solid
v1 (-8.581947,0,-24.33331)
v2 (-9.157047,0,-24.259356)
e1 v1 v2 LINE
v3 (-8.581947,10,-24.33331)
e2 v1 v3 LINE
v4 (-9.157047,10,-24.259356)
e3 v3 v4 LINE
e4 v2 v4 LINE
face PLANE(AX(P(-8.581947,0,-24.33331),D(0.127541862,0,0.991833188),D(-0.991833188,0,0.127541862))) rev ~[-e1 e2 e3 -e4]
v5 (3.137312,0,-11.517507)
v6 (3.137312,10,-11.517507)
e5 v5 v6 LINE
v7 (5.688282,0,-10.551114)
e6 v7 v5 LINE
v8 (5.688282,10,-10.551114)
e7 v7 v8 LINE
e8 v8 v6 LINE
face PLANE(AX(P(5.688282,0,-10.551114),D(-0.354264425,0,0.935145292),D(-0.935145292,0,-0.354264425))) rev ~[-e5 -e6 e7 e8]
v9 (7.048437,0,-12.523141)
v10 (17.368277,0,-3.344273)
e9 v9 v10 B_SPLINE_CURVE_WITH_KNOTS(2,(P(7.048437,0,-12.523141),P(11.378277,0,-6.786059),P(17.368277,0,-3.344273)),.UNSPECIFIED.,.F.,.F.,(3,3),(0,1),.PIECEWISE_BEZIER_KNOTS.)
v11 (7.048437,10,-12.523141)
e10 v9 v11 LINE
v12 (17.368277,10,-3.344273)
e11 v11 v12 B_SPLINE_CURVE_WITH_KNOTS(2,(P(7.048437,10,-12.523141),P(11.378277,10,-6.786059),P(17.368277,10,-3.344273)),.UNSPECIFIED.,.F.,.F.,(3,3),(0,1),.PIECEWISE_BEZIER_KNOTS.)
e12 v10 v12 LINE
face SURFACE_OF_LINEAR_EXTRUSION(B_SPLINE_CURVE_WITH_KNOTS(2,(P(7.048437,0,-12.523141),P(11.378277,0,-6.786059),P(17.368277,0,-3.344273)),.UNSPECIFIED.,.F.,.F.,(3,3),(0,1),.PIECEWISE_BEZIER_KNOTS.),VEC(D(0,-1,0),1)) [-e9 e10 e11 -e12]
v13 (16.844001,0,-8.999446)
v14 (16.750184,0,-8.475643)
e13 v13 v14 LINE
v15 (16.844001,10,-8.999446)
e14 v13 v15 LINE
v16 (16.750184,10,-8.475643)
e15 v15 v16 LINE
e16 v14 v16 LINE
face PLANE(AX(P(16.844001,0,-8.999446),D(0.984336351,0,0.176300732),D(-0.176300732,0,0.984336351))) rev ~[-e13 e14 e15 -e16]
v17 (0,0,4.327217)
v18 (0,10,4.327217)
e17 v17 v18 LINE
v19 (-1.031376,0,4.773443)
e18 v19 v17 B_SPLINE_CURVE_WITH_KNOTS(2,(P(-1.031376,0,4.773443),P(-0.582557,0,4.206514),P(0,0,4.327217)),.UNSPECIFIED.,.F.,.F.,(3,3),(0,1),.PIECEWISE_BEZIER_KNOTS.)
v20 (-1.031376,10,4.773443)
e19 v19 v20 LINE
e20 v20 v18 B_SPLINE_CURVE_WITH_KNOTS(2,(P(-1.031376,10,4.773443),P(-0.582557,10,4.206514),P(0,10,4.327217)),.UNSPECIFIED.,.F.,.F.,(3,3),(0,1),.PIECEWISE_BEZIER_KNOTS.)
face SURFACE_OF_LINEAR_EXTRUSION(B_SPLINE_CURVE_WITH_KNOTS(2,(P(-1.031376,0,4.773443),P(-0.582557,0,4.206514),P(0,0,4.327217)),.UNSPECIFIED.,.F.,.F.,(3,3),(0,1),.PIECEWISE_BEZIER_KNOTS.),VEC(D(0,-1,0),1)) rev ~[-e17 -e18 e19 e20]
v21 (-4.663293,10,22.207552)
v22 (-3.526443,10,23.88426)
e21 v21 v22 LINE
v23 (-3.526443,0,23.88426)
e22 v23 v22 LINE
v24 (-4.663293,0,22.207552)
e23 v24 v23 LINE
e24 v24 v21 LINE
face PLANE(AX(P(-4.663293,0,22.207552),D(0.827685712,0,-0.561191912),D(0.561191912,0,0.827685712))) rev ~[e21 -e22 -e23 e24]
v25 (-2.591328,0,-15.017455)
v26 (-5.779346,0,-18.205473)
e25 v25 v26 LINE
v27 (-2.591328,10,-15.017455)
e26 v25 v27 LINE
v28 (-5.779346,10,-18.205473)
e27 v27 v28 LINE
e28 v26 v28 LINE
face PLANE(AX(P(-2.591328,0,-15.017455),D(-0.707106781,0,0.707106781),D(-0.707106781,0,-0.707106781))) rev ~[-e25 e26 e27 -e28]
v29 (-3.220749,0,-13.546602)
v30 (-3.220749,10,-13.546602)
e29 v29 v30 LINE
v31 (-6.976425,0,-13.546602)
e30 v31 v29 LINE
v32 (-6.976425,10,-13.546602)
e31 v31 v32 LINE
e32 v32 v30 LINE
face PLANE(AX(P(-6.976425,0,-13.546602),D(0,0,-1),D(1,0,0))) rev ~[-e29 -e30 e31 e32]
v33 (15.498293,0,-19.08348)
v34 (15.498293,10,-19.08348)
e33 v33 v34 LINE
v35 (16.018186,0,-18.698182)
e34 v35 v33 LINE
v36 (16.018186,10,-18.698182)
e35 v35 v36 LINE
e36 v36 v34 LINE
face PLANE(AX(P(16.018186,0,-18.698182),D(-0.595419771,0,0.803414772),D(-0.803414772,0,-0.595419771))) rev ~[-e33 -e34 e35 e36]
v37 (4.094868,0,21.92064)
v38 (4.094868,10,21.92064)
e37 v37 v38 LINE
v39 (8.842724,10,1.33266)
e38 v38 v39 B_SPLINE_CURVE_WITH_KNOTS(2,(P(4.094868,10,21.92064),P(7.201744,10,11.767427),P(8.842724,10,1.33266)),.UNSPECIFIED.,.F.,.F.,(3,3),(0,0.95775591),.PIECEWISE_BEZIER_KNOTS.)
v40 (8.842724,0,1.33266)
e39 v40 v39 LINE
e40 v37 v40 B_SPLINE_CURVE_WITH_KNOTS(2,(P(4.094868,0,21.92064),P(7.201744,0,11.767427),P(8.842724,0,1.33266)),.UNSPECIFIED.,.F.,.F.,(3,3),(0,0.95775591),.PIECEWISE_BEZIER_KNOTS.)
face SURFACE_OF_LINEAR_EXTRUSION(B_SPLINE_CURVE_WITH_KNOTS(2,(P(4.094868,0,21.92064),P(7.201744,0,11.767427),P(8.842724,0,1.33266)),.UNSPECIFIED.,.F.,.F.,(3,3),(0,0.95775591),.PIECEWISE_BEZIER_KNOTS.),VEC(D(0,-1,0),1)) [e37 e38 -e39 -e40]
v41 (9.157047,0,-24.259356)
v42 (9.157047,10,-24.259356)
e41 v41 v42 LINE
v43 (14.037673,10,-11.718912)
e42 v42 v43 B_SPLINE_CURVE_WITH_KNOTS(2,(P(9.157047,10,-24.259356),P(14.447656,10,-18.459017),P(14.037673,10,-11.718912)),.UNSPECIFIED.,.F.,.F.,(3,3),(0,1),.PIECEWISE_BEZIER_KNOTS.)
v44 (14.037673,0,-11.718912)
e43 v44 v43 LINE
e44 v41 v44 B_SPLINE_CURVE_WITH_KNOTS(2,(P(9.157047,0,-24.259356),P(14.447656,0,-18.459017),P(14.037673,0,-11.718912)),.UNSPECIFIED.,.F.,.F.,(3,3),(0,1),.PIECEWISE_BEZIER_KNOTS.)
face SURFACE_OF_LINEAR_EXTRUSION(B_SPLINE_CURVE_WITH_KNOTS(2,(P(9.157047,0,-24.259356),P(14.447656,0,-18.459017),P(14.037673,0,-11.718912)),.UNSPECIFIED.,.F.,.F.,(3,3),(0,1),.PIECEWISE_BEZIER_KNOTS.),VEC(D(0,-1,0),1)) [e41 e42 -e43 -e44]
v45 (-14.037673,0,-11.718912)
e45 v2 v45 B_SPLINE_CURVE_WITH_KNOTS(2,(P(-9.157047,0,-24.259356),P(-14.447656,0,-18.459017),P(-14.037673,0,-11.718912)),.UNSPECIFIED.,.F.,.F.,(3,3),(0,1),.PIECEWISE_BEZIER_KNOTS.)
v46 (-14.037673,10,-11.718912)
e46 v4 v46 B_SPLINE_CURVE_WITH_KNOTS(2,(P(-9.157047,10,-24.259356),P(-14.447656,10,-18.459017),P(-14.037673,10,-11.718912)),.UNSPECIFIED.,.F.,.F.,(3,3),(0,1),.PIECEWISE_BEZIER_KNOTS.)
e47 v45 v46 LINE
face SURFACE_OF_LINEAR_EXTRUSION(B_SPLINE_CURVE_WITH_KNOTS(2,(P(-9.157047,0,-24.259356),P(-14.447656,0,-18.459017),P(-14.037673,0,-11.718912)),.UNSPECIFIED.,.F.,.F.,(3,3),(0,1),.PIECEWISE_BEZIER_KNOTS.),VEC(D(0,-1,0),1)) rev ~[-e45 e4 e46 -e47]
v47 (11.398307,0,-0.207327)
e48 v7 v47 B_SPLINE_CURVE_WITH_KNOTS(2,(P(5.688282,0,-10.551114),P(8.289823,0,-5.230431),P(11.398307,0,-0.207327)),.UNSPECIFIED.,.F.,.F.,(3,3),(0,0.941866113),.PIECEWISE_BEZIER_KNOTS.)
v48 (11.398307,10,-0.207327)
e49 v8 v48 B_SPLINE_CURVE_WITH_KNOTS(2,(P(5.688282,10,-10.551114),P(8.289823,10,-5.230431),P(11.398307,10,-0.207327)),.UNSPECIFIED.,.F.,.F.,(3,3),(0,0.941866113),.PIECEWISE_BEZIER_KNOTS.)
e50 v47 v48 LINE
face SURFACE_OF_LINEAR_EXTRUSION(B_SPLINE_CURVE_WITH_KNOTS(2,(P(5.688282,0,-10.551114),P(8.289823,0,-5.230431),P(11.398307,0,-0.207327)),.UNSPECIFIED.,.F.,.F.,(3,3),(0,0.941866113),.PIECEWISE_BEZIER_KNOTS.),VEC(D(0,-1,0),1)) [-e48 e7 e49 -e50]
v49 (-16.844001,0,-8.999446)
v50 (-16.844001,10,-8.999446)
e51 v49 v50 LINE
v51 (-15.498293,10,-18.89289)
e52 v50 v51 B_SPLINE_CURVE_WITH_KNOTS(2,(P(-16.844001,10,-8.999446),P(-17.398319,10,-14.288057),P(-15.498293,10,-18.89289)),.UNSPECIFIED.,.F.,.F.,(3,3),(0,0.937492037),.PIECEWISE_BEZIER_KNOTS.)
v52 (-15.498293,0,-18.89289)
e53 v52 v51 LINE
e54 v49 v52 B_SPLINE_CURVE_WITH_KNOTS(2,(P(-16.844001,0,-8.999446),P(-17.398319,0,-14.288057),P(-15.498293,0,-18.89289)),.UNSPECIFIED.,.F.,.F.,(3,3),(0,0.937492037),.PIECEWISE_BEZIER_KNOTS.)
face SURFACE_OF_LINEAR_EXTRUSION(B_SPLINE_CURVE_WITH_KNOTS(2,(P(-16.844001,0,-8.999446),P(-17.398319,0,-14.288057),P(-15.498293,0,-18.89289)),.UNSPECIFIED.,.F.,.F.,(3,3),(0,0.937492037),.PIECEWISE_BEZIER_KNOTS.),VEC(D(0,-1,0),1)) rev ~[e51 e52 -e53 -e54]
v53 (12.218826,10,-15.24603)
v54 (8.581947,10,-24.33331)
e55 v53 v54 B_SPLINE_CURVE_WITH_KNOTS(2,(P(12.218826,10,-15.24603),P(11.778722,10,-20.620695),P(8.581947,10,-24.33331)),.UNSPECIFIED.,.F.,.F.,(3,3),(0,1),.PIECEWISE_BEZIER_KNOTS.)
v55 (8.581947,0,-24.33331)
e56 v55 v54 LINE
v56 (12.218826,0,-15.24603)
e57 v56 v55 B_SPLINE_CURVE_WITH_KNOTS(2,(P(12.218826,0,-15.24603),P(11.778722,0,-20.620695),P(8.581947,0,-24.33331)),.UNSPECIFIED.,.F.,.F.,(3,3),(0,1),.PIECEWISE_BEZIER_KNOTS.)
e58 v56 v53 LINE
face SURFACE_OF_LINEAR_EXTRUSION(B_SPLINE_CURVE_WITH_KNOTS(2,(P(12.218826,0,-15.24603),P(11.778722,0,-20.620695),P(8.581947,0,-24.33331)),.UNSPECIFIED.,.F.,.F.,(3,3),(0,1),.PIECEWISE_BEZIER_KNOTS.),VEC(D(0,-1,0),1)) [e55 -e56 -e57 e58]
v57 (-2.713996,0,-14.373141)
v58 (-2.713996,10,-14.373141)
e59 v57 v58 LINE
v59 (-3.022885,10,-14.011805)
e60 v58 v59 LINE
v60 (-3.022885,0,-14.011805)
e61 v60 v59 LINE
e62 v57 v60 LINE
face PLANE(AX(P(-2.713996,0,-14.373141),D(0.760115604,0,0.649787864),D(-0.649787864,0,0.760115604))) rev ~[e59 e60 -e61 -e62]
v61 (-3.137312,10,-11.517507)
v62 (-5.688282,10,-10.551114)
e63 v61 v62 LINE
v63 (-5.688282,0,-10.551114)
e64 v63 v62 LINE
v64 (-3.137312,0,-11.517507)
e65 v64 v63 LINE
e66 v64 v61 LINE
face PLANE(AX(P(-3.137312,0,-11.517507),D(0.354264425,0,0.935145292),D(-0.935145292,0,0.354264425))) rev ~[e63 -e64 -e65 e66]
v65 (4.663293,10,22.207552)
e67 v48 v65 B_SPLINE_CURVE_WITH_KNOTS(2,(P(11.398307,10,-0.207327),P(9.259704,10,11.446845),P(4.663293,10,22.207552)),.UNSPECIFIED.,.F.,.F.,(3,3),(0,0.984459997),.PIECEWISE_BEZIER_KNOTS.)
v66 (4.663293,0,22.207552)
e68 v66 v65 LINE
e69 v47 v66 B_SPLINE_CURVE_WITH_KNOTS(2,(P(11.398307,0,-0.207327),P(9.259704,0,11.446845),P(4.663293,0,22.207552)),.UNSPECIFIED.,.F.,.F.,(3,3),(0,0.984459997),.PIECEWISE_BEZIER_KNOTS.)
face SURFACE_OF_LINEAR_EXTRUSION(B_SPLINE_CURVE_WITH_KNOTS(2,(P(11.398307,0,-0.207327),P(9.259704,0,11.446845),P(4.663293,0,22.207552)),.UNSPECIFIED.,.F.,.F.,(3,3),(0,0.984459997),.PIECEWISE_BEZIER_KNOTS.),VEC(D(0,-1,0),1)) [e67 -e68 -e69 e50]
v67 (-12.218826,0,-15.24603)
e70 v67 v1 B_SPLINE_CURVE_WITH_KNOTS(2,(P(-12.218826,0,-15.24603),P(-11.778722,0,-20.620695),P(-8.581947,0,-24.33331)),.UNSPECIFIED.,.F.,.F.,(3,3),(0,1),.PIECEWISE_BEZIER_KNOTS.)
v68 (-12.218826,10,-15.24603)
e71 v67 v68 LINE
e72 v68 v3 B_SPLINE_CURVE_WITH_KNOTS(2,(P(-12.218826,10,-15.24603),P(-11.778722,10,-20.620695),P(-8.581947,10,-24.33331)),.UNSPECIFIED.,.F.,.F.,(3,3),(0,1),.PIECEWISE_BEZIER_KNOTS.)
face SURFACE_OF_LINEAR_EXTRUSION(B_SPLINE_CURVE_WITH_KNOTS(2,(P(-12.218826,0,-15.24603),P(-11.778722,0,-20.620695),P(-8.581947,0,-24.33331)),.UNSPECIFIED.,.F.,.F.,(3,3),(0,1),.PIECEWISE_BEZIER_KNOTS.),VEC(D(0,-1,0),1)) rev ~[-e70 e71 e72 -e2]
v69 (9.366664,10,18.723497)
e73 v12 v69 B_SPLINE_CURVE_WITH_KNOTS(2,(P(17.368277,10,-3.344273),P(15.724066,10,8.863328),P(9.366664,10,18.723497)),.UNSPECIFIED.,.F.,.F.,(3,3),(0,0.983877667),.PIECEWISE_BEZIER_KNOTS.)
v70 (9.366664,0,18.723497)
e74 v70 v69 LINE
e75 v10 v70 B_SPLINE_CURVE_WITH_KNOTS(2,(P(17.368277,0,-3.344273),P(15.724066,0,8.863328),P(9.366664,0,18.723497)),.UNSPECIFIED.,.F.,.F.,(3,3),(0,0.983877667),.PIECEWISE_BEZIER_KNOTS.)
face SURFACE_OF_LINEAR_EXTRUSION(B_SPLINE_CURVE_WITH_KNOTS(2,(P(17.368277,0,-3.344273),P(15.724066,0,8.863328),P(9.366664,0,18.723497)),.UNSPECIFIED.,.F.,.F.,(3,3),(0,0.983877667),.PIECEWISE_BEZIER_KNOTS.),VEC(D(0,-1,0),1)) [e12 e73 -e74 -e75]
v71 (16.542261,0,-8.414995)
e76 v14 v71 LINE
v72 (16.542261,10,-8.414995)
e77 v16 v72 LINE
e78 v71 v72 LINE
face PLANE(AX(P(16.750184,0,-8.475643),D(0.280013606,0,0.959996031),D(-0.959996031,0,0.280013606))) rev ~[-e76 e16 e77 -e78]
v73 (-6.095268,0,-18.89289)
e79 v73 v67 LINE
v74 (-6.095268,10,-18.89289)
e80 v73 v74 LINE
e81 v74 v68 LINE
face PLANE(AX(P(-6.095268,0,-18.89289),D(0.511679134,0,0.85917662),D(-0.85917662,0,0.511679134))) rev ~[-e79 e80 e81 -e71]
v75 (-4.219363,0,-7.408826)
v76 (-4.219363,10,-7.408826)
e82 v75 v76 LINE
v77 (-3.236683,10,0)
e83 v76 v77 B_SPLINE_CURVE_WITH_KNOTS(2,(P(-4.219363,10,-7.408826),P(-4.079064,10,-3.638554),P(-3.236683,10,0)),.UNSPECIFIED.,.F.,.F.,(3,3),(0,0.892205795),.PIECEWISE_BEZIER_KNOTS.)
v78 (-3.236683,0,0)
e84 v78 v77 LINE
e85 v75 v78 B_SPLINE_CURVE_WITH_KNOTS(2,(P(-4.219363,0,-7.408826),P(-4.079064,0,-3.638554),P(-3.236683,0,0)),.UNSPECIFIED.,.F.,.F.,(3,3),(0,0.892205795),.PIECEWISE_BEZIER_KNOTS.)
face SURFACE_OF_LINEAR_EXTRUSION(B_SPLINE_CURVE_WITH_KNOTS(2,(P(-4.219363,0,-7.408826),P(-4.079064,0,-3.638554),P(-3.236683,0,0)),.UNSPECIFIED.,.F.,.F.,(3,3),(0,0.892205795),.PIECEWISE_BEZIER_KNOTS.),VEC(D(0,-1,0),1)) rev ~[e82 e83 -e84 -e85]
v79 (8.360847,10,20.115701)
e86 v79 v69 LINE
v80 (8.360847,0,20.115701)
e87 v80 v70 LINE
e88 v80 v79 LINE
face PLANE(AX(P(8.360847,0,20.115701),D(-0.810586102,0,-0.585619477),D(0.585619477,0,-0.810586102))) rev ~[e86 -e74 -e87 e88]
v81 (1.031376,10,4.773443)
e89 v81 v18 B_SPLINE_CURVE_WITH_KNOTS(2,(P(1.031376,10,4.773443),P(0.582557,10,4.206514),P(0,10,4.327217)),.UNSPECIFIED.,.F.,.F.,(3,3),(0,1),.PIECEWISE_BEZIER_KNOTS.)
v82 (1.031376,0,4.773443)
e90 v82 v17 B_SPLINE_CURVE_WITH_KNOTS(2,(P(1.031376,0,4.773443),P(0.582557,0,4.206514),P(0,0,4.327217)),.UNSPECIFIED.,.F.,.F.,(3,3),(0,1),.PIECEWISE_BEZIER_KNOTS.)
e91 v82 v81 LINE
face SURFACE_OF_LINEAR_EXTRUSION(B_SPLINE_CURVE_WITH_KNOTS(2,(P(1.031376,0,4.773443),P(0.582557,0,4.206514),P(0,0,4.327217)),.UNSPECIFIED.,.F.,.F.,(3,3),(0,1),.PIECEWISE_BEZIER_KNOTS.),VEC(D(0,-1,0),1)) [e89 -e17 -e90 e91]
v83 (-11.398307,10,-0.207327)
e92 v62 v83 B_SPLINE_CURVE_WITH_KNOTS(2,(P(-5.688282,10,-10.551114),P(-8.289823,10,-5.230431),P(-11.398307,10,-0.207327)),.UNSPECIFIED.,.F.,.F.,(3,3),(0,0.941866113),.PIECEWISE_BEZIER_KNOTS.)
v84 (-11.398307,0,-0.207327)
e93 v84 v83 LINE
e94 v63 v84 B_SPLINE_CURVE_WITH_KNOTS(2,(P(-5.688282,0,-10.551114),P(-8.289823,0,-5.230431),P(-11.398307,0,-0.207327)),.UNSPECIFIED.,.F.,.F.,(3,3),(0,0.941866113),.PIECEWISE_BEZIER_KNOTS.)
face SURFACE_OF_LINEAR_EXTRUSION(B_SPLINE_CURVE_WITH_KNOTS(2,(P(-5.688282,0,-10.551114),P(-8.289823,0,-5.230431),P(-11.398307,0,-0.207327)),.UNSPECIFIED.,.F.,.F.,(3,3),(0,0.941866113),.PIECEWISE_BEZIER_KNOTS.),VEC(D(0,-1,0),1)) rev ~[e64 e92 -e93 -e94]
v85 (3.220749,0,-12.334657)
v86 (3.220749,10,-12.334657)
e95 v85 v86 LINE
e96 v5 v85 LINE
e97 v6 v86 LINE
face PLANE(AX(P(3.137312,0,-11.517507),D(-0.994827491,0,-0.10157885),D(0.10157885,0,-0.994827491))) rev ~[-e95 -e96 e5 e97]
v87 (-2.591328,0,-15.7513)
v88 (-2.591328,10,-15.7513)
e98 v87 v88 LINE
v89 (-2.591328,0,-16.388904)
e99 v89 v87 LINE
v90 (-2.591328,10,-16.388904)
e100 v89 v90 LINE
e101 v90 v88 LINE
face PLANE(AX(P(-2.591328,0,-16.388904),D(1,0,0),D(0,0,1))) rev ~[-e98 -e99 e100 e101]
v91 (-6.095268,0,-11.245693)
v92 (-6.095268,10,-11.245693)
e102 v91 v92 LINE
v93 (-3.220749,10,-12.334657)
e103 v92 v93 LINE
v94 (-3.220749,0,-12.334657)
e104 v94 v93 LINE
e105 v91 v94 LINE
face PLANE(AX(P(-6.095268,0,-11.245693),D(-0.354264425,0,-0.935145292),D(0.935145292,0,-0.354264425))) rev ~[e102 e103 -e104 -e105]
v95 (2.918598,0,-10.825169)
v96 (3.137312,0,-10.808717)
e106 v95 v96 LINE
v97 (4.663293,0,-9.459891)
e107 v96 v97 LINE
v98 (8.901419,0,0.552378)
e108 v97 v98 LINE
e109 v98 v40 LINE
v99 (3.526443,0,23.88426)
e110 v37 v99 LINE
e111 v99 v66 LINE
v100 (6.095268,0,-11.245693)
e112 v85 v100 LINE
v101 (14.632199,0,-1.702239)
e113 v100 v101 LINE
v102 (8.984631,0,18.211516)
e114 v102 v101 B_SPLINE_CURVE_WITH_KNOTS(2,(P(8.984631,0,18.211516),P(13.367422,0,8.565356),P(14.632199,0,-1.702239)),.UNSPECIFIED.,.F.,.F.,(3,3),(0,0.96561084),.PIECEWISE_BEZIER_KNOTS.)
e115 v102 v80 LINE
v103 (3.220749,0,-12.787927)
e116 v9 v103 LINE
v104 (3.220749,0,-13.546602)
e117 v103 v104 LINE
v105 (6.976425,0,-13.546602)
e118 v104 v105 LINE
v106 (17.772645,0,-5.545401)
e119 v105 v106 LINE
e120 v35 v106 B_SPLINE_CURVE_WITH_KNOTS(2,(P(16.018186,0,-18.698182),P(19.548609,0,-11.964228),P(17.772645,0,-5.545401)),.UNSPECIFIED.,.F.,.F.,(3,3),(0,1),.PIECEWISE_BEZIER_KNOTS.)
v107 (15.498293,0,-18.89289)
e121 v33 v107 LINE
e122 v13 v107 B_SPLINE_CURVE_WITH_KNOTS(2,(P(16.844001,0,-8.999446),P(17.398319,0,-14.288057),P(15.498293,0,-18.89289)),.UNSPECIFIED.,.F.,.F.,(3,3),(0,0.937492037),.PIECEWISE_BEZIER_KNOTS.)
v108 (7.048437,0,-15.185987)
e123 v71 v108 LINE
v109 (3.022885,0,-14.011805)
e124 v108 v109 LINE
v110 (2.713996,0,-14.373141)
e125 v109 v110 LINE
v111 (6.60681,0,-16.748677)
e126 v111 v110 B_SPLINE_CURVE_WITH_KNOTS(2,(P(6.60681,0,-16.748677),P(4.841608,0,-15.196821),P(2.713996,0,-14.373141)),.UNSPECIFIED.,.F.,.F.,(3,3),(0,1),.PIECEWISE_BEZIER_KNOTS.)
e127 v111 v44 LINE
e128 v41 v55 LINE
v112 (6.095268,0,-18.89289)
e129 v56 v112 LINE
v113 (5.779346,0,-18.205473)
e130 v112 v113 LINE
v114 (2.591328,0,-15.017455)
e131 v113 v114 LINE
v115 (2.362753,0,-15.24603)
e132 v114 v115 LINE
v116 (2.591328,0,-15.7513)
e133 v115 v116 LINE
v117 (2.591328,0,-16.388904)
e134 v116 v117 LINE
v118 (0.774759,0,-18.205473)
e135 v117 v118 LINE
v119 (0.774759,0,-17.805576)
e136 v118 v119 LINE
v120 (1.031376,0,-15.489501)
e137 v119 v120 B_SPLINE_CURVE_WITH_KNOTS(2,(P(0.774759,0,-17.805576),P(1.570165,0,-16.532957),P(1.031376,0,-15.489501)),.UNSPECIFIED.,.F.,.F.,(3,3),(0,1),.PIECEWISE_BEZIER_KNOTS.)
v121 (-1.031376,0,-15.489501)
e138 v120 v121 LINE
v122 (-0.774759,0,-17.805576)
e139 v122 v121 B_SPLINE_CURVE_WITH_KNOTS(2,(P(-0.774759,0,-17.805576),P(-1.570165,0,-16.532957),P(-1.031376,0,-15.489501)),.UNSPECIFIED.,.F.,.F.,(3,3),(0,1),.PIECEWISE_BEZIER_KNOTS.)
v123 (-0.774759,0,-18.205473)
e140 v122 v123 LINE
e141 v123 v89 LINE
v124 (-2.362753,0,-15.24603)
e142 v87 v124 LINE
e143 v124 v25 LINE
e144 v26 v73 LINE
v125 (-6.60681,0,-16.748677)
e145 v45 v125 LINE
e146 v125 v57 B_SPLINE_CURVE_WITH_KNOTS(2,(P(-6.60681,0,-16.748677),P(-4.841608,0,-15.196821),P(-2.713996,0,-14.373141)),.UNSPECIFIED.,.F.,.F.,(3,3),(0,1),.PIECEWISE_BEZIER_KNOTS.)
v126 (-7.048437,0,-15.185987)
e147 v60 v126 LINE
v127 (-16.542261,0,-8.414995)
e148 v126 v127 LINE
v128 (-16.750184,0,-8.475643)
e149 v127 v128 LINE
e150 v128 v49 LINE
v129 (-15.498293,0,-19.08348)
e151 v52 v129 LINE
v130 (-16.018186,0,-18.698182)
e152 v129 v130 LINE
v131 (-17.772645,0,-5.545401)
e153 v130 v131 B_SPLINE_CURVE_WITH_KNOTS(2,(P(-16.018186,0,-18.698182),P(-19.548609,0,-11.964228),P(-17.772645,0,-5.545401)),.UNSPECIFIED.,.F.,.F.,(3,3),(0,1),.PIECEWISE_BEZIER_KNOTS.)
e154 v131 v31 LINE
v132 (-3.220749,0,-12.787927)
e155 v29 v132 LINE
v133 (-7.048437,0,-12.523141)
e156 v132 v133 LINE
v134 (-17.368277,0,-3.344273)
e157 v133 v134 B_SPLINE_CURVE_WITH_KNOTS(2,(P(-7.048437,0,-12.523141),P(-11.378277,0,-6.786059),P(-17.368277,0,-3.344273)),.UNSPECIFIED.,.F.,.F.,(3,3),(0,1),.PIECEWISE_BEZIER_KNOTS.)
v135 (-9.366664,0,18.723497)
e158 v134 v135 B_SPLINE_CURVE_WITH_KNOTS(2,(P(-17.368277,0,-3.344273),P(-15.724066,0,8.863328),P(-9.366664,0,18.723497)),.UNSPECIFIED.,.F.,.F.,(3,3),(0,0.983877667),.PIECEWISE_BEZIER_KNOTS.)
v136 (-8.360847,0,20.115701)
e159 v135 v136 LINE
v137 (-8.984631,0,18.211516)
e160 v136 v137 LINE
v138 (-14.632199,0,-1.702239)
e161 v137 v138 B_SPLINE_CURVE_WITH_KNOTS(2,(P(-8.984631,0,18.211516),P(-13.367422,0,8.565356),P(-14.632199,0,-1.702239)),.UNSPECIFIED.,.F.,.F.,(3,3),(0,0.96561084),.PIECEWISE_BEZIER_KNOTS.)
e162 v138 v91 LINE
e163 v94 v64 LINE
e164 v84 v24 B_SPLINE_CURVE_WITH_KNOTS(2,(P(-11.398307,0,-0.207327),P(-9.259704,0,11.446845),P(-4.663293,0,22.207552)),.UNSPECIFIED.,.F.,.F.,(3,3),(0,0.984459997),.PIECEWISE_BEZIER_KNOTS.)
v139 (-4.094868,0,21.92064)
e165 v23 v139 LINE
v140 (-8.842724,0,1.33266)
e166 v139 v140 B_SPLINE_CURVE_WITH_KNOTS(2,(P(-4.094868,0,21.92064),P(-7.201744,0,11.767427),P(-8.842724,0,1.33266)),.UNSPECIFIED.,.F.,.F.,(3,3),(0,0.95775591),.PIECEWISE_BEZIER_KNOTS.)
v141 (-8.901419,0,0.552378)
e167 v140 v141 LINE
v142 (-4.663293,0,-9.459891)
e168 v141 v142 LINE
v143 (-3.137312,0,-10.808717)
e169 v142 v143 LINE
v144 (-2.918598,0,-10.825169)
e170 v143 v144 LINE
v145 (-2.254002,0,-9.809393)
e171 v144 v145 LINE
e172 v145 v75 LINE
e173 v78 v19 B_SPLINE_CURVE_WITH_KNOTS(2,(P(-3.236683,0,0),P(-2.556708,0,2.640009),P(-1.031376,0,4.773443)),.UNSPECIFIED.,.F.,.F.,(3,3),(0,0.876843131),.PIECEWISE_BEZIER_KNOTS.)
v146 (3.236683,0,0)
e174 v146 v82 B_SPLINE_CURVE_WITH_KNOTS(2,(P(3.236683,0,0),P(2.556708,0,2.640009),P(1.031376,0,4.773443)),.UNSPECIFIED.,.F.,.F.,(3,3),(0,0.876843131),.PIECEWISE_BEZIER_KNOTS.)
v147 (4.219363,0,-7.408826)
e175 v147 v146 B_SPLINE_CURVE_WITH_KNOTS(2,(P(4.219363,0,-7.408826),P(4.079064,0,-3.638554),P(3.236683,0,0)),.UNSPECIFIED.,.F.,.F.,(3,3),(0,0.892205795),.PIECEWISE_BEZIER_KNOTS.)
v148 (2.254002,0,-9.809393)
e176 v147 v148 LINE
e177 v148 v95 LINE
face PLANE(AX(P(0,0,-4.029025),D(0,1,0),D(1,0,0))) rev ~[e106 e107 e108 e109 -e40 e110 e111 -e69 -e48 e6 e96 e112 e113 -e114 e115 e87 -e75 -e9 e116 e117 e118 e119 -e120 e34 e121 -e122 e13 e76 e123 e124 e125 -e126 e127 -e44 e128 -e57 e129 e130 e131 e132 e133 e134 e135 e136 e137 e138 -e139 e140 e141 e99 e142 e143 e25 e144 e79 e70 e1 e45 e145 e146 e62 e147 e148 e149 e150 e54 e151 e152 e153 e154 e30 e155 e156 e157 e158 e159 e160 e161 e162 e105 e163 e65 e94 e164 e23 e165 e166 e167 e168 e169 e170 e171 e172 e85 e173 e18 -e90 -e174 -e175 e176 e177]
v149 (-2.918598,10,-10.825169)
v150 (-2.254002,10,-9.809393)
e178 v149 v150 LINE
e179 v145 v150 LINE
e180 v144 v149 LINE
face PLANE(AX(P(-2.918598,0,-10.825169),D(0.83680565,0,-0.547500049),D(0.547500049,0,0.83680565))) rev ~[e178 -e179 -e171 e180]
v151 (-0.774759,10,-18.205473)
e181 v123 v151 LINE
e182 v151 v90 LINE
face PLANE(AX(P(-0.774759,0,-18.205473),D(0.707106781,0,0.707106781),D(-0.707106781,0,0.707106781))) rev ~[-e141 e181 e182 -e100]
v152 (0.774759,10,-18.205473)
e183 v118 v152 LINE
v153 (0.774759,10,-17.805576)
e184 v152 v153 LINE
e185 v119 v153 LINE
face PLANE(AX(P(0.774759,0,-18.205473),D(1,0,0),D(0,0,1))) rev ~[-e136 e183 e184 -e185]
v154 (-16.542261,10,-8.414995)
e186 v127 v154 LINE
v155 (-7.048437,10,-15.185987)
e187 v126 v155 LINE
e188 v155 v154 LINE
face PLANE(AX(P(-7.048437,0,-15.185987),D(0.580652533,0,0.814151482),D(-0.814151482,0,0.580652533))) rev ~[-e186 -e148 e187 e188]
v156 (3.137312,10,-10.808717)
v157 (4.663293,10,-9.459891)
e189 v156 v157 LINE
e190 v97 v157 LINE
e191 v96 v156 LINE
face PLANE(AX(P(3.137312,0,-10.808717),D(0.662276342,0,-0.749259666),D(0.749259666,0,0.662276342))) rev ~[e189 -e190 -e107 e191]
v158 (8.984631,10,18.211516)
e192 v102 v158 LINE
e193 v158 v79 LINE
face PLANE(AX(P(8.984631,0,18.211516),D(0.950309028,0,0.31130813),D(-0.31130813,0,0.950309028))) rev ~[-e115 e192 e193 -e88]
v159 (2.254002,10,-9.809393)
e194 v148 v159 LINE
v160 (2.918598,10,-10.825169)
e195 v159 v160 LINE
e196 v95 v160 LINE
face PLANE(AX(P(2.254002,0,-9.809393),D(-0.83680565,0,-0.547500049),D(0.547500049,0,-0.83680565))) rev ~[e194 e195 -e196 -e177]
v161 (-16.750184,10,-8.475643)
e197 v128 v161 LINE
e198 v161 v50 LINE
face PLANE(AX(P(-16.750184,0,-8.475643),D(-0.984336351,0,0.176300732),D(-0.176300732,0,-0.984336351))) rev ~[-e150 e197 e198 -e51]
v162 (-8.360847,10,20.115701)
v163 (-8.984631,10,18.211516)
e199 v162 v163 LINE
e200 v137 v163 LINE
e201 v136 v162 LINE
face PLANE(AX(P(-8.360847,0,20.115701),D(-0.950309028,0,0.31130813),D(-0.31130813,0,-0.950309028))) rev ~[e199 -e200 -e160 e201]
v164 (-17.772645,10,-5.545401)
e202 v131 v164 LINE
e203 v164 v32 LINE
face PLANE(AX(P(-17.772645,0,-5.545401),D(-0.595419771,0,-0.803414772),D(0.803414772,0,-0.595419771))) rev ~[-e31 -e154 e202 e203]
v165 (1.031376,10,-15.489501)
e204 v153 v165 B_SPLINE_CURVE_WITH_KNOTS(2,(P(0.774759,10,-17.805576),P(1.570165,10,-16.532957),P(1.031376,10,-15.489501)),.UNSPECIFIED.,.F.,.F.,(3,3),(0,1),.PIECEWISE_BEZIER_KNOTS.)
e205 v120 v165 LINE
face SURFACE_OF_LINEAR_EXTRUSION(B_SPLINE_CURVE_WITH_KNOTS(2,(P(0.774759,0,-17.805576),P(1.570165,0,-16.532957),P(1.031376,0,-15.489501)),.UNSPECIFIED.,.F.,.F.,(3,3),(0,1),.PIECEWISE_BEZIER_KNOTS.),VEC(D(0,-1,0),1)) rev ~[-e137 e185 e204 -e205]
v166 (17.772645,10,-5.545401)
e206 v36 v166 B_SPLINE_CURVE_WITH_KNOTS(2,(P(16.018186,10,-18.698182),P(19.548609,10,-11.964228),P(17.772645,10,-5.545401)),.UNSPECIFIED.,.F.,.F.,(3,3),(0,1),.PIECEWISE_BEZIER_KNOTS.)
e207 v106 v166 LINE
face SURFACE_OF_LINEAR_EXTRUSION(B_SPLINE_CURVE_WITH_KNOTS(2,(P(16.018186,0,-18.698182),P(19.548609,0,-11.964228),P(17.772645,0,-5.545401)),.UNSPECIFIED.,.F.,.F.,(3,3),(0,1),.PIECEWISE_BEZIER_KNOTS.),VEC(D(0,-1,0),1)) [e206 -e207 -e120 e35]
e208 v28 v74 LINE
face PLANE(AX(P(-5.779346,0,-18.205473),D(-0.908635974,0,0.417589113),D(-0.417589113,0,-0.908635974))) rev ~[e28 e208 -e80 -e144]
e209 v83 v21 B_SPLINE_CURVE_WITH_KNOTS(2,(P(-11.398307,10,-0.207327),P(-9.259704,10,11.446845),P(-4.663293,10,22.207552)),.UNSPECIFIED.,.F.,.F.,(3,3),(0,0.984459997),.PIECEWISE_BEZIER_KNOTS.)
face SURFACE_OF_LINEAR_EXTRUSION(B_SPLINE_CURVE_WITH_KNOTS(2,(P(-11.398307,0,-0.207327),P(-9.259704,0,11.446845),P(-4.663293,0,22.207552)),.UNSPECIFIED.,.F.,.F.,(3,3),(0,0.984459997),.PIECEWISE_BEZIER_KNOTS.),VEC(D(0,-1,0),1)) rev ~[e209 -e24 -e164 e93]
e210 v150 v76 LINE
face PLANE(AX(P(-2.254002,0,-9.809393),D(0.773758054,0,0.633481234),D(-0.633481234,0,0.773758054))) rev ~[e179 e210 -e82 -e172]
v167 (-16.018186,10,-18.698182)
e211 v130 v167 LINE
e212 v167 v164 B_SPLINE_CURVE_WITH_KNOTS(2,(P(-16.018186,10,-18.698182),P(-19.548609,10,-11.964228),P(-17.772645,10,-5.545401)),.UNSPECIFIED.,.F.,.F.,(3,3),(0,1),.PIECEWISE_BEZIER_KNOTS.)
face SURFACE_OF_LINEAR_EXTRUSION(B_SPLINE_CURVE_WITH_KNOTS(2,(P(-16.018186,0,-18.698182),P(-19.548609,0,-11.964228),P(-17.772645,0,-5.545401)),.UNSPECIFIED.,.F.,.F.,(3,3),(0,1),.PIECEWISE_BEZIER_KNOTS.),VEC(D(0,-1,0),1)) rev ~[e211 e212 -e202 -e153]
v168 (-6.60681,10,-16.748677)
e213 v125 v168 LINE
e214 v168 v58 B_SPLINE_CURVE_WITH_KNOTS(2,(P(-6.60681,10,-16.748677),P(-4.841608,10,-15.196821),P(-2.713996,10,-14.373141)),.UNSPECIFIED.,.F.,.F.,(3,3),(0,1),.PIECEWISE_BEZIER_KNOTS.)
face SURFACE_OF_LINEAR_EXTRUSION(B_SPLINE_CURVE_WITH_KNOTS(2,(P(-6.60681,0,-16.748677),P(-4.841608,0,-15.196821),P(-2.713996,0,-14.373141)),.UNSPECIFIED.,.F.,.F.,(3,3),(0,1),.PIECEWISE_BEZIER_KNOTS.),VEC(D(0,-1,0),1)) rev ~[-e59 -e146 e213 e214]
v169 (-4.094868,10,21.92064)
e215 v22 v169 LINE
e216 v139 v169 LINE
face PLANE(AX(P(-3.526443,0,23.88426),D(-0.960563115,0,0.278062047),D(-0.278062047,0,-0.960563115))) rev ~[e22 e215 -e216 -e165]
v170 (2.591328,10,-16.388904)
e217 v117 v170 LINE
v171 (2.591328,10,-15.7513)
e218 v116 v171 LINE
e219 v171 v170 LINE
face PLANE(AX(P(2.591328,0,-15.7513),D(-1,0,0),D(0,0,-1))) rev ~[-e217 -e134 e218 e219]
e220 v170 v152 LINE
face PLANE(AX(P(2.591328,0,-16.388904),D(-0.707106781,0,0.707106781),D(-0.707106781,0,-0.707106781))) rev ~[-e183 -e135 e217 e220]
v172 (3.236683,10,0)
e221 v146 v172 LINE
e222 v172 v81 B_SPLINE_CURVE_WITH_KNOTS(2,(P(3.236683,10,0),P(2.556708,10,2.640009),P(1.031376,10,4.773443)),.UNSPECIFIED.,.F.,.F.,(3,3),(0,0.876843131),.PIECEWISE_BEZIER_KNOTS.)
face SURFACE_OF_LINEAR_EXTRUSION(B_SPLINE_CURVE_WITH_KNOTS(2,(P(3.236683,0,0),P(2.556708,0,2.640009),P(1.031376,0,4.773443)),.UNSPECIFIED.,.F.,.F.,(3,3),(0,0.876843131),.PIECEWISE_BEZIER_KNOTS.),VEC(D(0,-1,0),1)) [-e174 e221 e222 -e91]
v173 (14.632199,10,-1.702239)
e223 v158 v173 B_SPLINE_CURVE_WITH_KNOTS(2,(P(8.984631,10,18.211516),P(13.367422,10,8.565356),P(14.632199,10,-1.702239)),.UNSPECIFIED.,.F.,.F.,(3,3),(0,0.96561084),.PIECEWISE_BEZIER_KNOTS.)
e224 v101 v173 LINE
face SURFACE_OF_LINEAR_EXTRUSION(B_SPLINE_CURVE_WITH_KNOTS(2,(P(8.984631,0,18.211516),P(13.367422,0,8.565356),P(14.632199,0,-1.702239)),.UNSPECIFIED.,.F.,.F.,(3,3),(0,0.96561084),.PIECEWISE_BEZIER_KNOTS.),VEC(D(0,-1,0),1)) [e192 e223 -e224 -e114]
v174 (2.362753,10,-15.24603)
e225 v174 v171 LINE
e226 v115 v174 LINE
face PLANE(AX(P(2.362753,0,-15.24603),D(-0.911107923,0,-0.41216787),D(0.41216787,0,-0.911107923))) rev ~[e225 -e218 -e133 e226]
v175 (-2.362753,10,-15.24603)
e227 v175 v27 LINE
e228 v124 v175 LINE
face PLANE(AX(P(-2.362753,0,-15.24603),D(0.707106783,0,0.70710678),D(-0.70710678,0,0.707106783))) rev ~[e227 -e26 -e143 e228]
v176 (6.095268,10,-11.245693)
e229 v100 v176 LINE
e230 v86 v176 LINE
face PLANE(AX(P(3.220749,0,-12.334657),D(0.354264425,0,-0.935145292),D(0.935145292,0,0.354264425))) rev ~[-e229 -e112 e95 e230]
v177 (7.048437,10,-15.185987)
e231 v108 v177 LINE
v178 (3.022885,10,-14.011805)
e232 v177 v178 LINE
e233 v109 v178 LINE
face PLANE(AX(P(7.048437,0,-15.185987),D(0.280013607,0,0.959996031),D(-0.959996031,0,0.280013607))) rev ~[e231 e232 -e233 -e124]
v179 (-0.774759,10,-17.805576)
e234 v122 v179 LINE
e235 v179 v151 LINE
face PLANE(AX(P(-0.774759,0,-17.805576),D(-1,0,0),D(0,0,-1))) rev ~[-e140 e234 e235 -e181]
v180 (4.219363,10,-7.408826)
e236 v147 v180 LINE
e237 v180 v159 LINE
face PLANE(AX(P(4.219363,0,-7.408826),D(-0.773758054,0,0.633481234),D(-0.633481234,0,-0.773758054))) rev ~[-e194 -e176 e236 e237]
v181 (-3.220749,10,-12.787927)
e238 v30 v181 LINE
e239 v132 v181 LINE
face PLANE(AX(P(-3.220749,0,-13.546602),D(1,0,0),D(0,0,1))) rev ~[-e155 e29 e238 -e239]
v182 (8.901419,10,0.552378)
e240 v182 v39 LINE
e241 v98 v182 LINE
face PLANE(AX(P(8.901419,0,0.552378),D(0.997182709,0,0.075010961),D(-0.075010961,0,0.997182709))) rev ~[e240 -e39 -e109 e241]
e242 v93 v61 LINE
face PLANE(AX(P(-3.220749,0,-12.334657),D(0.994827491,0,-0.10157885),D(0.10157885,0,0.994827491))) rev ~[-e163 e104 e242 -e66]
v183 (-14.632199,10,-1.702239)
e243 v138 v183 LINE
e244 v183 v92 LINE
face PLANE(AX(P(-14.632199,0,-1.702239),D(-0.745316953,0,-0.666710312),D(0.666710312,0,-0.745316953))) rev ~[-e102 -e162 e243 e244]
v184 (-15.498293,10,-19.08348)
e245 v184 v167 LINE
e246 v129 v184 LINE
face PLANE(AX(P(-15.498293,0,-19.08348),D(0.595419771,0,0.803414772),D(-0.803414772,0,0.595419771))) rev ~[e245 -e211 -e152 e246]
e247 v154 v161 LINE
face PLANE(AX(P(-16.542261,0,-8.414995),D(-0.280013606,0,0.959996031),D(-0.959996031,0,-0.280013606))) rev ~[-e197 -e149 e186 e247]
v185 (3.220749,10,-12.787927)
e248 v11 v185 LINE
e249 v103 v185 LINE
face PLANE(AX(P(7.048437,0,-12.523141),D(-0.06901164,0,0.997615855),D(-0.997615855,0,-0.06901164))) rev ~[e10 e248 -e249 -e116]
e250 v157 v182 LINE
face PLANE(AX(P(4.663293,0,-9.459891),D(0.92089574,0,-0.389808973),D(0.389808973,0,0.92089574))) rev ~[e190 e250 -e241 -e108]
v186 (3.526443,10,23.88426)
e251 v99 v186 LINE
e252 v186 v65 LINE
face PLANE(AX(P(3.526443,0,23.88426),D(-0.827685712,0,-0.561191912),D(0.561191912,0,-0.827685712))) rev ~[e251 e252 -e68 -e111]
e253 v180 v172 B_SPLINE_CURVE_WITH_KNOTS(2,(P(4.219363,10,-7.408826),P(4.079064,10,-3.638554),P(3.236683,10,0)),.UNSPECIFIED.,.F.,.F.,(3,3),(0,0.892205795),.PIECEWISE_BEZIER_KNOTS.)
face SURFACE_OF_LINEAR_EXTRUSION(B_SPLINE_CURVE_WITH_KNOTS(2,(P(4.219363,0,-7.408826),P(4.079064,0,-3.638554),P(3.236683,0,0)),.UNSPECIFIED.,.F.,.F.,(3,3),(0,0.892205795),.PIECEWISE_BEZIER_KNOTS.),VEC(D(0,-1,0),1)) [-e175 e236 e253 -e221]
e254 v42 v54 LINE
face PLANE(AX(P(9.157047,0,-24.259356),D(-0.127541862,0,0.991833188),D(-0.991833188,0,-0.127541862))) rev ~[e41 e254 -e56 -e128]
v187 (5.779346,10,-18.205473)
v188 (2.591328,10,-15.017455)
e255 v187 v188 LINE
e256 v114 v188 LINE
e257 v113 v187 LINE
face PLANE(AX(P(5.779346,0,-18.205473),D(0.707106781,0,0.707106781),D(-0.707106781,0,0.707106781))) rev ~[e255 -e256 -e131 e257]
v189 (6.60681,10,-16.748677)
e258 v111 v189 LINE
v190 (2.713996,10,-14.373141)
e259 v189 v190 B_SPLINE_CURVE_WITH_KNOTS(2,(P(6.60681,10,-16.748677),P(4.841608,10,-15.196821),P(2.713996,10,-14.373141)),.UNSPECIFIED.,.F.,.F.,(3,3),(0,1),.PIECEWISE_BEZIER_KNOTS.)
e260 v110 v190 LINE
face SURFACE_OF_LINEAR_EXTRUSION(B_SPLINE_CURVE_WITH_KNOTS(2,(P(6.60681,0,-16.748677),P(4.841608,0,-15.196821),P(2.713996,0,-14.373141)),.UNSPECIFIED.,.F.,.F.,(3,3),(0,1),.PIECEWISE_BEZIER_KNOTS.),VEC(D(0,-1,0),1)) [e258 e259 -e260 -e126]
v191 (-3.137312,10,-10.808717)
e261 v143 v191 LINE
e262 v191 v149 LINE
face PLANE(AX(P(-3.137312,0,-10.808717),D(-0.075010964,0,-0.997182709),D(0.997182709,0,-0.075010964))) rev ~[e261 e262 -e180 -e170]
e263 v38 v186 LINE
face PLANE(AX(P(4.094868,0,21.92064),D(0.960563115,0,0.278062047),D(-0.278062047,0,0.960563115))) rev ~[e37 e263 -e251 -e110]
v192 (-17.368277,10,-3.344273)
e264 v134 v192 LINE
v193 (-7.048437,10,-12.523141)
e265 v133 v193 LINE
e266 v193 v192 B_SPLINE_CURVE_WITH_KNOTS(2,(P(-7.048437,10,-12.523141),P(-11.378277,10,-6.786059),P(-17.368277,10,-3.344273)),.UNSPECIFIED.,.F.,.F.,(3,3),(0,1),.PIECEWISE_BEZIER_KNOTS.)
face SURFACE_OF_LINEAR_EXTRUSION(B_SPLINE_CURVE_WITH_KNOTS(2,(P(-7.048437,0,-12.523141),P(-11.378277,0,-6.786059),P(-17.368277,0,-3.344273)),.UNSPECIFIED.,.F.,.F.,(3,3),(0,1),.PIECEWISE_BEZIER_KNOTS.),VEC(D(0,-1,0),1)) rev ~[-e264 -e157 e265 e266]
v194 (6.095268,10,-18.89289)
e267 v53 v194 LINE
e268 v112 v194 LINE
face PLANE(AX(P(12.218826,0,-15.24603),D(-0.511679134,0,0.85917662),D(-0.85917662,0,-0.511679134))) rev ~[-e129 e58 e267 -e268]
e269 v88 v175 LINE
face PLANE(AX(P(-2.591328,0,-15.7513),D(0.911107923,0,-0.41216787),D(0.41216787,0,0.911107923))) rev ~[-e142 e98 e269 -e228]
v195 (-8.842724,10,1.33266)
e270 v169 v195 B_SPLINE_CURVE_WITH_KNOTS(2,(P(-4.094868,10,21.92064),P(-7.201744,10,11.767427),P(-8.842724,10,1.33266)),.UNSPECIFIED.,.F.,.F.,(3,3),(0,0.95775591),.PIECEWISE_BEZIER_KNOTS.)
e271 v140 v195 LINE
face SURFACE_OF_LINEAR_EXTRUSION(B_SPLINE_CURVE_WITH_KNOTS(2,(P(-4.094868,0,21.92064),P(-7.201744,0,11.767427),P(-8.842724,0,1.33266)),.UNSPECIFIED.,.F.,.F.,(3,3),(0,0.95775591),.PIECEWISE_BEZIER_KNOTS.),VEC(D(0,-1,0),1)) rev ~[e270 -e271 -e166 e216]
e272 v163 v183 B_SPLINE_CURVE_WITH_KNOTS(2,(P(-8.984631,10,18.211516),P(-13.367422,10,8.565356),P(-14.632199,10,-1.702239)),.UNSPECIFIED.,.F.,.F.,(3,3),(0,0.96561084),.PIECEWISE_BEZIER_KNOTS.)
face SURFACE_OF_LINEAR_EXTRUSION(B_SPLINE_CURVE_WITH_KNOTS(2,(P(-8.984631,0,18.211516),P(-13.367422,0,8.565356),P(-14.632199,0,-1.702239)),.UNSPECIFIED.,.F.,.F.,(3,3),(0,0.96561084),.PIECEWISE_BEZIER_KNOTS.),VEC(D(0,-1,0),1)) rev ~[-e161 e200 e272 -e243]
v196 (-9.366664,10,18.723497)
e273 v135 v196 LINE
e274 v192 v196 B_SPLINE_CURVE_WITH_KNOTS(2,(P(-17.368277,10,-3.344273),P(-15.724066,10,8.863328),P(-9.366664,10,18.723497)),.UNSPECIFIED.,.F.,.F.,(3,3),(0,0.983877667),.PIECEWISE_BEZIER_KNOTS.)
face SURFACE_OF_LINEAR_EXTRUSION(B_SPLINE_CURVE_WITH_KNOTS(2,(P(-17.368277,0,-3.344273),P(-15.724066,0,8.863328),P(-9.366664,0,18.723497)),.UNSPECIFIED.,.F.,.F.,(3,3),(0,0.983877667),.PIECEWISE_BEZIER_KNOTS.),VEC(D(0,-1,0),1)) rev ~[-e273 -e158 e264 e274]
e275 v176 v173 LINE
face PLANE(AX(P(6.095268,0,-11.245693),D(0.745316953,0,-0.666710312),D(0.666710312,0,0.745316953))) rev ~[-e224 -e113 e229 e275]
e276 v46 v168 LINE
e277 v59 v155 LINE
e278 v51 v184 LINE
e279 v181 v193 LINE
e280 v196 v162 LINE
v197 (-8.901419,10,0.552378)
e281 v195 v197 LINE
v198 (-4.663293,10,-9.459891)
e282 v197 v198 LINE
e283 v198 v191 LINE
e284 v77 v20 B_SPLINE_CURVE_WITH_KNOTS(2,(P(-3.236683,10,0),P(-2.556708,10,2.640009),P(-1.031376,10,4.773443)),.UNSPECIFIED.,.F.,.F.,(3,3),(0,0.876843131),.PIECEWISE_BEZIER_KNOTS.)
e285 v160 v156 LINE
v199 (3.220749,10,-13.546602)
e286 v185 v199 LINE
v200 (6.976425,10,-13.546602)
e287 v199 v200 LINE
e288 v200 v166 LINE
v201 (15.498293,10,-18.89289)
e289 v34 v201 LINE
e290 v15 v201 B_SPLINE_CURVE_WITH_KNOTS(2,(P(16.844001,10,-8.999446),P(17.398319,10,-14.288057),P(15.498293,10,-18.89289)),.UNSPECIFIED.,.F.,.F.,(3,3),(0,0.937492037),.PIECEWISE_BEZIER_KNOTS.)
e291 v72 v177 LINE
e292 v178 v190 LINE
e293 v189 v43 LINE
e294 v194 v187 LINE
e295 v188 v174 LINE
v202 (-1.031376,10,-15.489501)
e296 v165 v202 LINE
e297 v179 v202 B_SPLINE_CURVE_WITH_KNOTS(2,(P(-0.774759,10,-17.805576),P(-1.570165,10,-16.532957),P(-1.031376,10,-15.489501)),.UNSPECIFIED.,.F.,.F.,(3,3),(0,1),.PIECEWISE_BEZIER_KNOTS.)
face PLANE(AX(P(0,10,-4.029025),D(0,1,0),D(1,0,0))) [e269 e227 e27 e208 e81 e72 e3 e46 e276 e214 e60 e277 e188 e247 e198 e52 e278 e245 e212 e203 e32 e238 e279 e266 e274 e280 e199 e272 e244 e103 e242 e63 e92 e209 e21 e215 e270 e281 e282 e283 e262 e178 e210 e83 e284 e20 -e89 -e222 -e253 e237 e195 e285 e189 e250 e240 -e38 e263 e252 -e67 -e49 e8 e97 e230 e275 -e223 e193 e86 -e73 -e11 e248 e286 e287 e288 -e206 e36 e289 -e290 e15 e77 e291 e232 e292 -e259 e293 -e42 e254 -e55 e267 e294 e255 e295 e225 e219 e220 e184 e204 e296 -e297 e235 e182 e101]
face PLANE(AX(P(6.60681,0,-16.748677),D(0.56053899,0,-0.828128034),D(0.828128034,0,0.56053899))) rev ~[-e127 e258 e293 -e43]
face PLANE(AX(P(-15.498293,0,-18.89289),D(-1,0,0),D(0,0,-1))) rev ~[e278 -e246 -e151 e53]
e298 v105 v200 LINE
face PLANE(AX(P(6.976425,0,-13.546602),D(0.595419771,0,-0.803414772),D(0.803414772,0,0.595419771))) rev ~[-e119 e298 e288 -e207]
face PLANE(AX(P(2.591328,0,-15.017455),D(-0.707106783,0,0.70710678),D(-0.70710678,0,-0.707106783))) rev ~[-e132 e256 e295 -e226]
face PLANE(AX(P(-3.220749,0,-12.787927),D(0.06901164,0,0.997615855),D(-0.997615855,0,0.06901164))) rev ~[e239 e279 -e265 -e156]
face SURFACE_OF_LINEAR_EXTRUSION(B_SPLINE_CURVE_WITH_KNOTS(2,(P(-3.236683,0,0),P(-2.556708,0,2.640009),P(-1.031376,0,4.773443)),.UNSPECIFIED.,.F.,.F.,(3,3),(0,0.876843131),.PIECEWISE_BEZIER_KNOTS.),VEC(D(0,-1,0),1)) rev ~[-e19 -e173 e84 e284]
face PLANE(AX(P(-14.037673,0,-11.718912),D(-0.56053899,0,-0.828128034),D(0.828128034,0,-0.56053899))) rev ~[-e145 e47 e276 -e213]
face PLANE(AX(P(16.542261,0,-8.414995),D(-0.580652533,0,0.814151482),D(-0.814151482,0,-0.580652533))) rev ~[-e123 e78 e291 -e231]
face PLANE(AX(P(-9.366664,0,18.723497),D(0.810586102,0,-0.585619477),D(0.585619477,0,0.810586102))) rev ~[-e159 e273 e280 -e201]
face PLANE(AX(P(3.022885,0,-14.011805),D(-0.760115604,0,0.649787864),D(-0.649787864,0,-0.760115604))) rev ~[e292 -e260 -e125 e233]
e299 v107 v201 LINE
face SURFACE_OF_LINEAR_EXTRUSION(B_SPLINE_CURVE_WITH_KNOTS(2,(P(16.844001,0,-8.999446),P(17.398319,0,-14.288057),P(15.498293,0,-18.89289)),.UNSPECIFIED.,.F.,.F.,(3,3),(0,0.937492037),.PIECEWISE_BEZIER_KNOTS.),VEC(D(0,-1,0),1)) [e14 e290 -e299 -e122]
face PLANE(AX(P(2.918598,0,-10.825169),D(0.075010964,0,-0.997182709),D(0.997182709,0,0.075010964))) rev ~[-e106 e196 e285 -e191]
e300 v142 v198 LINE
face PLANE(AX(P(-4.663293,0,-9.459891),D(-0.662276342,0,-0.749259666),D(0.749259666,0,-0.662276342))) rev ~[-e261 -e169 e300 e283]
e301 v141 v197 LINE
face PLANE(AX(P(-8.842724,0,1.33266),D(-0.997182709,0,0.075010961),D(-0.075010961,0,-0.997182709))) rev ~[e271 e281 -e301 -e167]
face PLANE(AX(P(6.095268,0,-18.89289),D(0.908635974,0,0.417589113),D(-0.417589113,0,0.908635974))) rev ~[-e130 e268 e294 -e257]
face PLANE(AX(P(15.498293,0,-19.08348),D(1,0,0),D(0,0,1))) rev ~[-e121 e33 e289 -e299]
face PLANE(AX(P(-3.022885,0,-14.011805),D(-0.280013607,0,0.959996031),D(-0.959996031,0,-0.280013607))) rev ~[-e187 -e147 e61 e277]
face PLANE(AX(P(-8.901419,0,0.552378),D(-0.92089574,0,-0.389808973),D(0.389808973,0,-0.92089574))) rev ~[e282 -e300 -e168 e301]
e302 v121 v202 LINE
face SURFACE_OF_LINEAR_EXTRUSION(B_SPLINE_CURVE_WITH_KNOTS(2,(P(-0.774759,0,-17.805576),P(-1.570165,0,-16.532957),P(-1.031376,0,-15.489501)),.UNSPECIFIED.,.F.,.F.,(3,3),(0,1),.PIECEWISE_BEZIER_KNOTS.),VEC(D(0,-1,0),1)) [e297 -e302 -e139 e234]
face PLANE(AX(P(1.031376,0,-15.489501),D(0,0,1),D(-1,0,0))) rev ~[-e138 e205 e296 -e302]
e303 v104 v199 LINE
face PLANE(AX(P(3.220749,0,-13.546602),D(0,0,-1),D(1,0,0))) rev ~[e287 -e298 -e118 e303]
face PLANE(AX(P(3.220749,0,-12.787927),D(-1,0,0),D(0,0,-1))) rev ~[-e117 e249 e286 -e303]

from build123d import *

# Parameters (mm, degrees)
BOSS_EXTRUDE1_DEPTH = 10


with BuildPart() as part:
    # Sketch1 → Boss-Extrude1 (new body)
    with BuildSketch(Plane(origin=(0, 0, 0), x_dir=(1, 0, 0), z_dir=(0, 1, 0))):
        with BuildLine():
            Line((-0.77475919, 17.805575817), (-0.77475919, 18.205472922))
            Line((-0.77475919, 18.205472922), (-2.591328104, 16.388904008))
            Line((-2.591328104, 16.388904008), (-2.591328104, 15.751300349))
            Line((-2.591328104, 15.751300349), (-2.362753208, 15.246029526))
            Line((-2.362753208, 15.246029526), (-2.591328104, 15.017454629))
            Line((-2.591328104, 15.017454629), (-5.779346397, 18.205472922))
            Line((-5.779346397, 18.205472922), (-6.095268046, 18.892889731))
            Line((-6.095268046, 18.892889731), (-12.218826377, 15.246029526))
            add(Edge.make_bspline(
                [(-12.218826377, 15.246029526), (-11.778721685, 20.620695324), (-8.581947184, 24.333309757)],
                knots=[0, 0, 0, 1, 1, 1], degree=2))
            Line((-8.581947184, 24.333309757), (-9.157047212, 24.259356466))
            add(Edge.make_bspline(
                [(-9.157047212, 24.259356466), (-14.447655818, 18.459017457), (-14.037673367, 11.71891231)],
                knots=[0, 0, 0, 1, 1, 1], degree=2))
            Line((-14.037673367, 11.71891231), (-6.606809824, 16.748676517))
            add(Edge.make_bspline(
                [(-6.606809824, 16.748676517), (-4.84160761, 15.196820639), (-2.713996128, 14.373140945)],
                knots=[0, 0, 0, 1, 1, 1], degree=2))
            Line((-2.713996128, 14.373140945), (-3.022885214, 14.011805458))
            Line((-3.022885214, 14.011805458), (-7.04843704, 15.185986651))
            Line((-7.04843704, 15.185986651), (-16.542260828, 8.414995079))
            Line((-16.542260828, 8.414995079), (-16.750184267, 8.475642613))
            Line((-16.750184267, 8.475642613), (-16.844000716, 8.999446115))
            add(Edge.make_bspline(
                [(-16.844000716, 8.999446115), (-17.398318859, 14.288056659), (-15.498292646, 18.892889731)],
                knots=[0, 0, 0, 0.937492037, 0.937492037, 0.937492037], degree=2))
            Line((-15.498292646, 18.892889731), (-15.498292646, 19.083480243))
            Line((-15.498292646, 19.083480243), (-16.018185643, 18.698181665))
            add(Edge.make_bspline(
                [(-16.018185643, 18.698181665), (-19.54860855, 11.964227915), (-17.772645014, 5.545401207)],
                knots=[0, 0, 0, 1, 1, 1], degree=2))
            Line((-17.772645014, 5.545401207), (-6.976425445, 13.546601594))
            Line((-6.976425445, 13.546601594), (-3.220749094, 13.546601594))
            Line((-3.220749094, 13.546601594), (-3.220749094, 12.787927187))
            Line((-3.220749094, 12.787927187), (-7.04843704, 12.523140875))
            add(Edge.make_bspline(
                [(-7.04843704, 12.523140875), (-11.378277138, 6.786058759), (-17.368277161, 3.344273399)],
                knots=[0, 0, 0, 1, 1, 1], degree=2))
            add(Edge.make_bspline(
                [(-17.368277161, 3.344273399), (-15.724066268, -8.863327627), (-9.366664211, -18.723496609)],
                knots=[0, 0, 0, 0.983877667, 0.983877667, 0.983877667], degree=2))
            Line((-9.366664211, -18.723496609), (-8.360846592, -20.115700618))
            Line((-8.360846592, -20.115700618), (-8.984631154, -18.211516166))
            add(Edge.make_bspline(
                [(-8.984631154, -18.211516166), (-13.367422275, -8.565356306), (-14.632198794, 1.702238546)],
                knots=[0, 0, 0, 0.96561084, 0.96561084, 0.96561084], degree=2))
            Line((-14.632198794, 1.702238546), (-6.095268046, 11.245692572))
            Line((-6.095268046, 11.245692572), (-3.220749094, 12.334656835))
            Line((-3.220749094, 12.334656835), (-3.137312332, 11.517506569))
            Line((-3.137312332, 11.517506569), (-5.68828216, 10.551113575))
            add(Edge.make_bspline(
                [(-5.68828216, 10.551113575), (-8.289822739, 5.230431142), (-11.398307003, 0.207327452)],
                knots=[0, 0, 0, 0.941866113, 0.941866113, 0.941866113], degree=2))
            add(Edge.make_bspline(
                [(-11.398307003, 0.207327452), (-9.259704318, -11.446844699), (-4.663293434, -22.207552312)],
                knots=[0, 0, 0, 0.984459997, 0.984459997, 0.984459997], degree=2))
            Line((-4.663293434, -22.207552312), (-3.52644295, -23.884260193))
            Line((-3.52644295, -23.884260193), (-4.094868192, -21.920639742))
            add(Edge.make_bspline(
                [(-4.094868192, -21.920639742), (-7.201743798, -11.767427454), (-8.842724338, -1.332659634)],
                knots=[0, 0, 0, 0.95775591, 0.95775591, 0.95775591], degree=2))
            Line((-8.842724338, -1.332659634), (-8.901419383, -0.55237788))
            Line((-8.901419383, -0.55237788), (-4.663293434, 9.459890703))
            Line((-4.663293434, 9.459890703), (-3.137312332, 10.808717055))
            Line((-3.137312332, 10.808717055), (-2.918598052, 10.825169375))
            Line((-2.918598052, 10.825169375), (-2.254002061, 9.809392881))
            Line((-2.254002061, 9.809392881), (-4.219363172, 7.408826128))
            add(Edge.make_bspline(
                [(-4.219363172, 7.408826128), (-4.079064375, 3.638553555), (-3.236682616, 0)],
                knots=[0, 0, 0, 0.892205795, 0.892205795, 0.892205795], degree=2))
            add(Edge.make_bspline(
                [(-3.236682616, 0), (-2.55670829, -2.640008962), (-1.031376318, -4.773443308)],
                knots=[0, 0, 0, 0.876843131, 0.876843131, 0.876843131], degree=2))
            add(Edge.make_bspline(
                [(-1.031376318, -4.773443308), (-0.582556801, -4.206513749), (0, -4.327217184)],
                knots=[0, 0, 0, 1, 1, 1], degree=2))
            add(Edge.make_bspline(
                [(1.031376318, -4.773443308), (0.582556801, -4.206513749), (0, -4.327217184)],
                knots=[0, 0, 0, 1, 1, 1], degree=2))
            add(Edge.make_bspline(
                [(3.236682616, 0), (2.55670829, -2.640008962), (1.031376318, -4.773443308)],
                knots=[0, 0, 0, 0.876843131, 0.876843131, 0.876843131], degree=2))
            add(Edge.make_bspline(
                [(4.219363172, 7.408826128), (4.079064375, 3.638553555), (3.236682616, 0)],
                knots=[0, 0, 0, 0.892205795, 0.892205795, 0.892205795], degree=2))
            Line((4.219363172, 7.408826128), (2.254002061, 9.809392881))
            Line((2.254002061, 9.809392881), (2.918598052, 10.825169375))
            Line((2.918598052, 10.825169375), (3.137312332, 10.808717055))
            Line((3.137312332, 10.808717055), (4.663293434, 9.459890703))
            Line((4.663293434, 9.459890703), (8.901419383, -0.55237788))
            Line((8.901419383, -0.55237788), (8.842724338, -1.332659634))
            add(Edge.make_bspline(
                [(4.094868192, -21.920639742), (7.201743798, -11.767427454), (8.842724338, -1.332659634)],
                knots=[0, 0, 0, 0.95775591, 0.95775591, 0.95775591], degree=2))
            Line((4.094868192, -21.920639742), (3.52644295, -23.884260193))
            Line((3.52644295, -23.884260193), (4.663293434, -22.207552312))
            add(Edge.make_bspline(
                [(11.398307003, 0.207327452), (9.259704318, -11.446844699), (4.663293434, -22.207552312)],
                knots=[0, 0, 0, 0.984459997, 0.984459997, 0.984459997], degree=2))
            add(Edge.make_bspline(
                [(5.68828216, 10.551113575), (8.289822739, 5.230431142), (11.398307003, 0.207327452)],
                knots=[0, 0, 0, 0.941866113, 0.941866113, 0.941866113], degree=2))
            Line((5.68828216, 10.551113575), (3.137312332, 11.517506569))
            Line((3.137312332, 11.517506569), (3.220749094, 12.334656835))
            Line((3.220749094, 12.334656835), (6.095268046, 11.245692572))
            Line((6.095268046, 11.245692572), (14.632198794, 1.702238546))
            add(Edge.make_bspline(
                [(8.984631154, -18.211516166), (13.367422275, -8.565356306), (14.632198794, 1.702238546)],
                knots=[0, 0, 0, 0.96561084, 0.96561084, 0.96561084], degree=2))
            Line((8.984631154, -18.211516166), (8.360846592, -20.115700618))
            Line((8.360846592, -20.115700618), (9.366664211, -18.723496609))
            add(Edge.make_bspline(
                [(17.368277161, 3.344273399), (15.724066268, -8.863327627), (9.366664211, -18.723496609)],
                knots=[0, 0, 0, 0.983877667, 0.983877667, 0.983877667], degree=2))
            add(Edge.make_bspline(
                [(7.04843704, 12.523140875), (11.378277138, 6.786058759), (17.368277161, 3.344273399)],
                knots=[0, 0, 0, 1, 1, 1], degree=2))
            Line((7.04843704, 12.523140875), (3.220749094, 12.787927187))
            Line((3.220749094, 12.787927187), (3.220749094, 13.546601594))
            Line((3.220749094, 13.546601594), (6.976425445, 13.546601594))
            Line((6.976425445, 13.546601594), (17.772645014, 5.545401207))
            add(Edge.make_bspline(
                [(16.018185643, 18.698181665), (19.54860855, 11.964227915), (17.772645014, 5.545401207)],
                knots=[0, 0, 0, 1, 1, 1], degree=2))
            Line((16.018185643, 18.698181665), (15.498292646, 19.083480243))
            Line((15.498292646, 19.083480243), (15.498292646, 18.892889731))
            add(Edge.make_bspline(
                [(16.844000716, 8.999446115), (17.398318859, 14.288056659), (15.498292646, 18.892889731)],
                knots=[0, 0, 0, 0.937492037, 0.937492037, 0.937492037], degree=2))
            Line((16.844000716, 8.999446115), (16.750184267, 8.475642613))
            Line((16.750184267, 8.475642613), (16.542260828, 8.414995079))
            Line((16.542260828, 8.414995079), (7.04843704, 15.185986651))
            Line((7.04843704, 15.185986651), (3.022885214, 14.011805458))
            Line((3.022885214, 14.011805458), (2.713996128, 14.373140945))
            add(Edge.make_bspline(
                [(6.606809824, 16.748676517), (4.84160761, 15.196820639), (2.713996128, 14.373140945)],
                knots=[0, 0, 0, 1, 1, 1], degree=2))
            Line((6.606809824, 16.748676517), (14.037673367, 11.71891231))
            add(Edge.make_bspline(
                [(9.157047212, 24.259356466), (14.447655818, 18.459017457), (14.037673367, 11.71891231)],
                knots=[0, 0, 0, 1, 1, 1], degree=2))
            Line((9.157047212, 24.259356466), (8.581947184, 24.333309757))
            add(Edge.make_bspline(
                [(12.218826377, 15.246029526), (11.778721685, 20.620695324), (8.581947184, 24.333309757)],
                knots=[0, 0, 0, 1, 1, 1], degree=2))
            Line((12.218826377, 15.246029526), (6.095268046, 18.892889731))
            Line((6.095268046, 18.892889731), (5.779346397, 18.205472922))
            Line((5.779346397, 18.205472922), (2.591328104, 15.017454629))
            Line((2.591328104, 15.017454629), (2.362753208, 15.246029526))
            Line((2.362753208, 15.246029526), (2.591328104, 15.751300349))
            Line((2.591328104, 15.751300349), (2.591328104, 16.388904008))
            Line((2.591328104, 16.388904008), (0.77475919, 18.205472922))
            Line((0.77475919, 18.205472922), (0.77475919, 17.805575817))
            add(Edge.make_bspline(
                [(0.77475919, 17.805575817), (1.570165167, 16.532957411), (1.031376318, 15.489501362)],
                knots=[0, 0, 0, 1, 1, 1], degree=2))
            Line((1.031376318, 15.489501362), (-1.031376318, 15.489501362))
            add(Edge.make_bspline(
                [(-0.77475919, 17.805575817), (-1.570165167, 16.532957411), (-1.031376318, 15.489501362)],
                knots=[0, 0, 0, 1, 1, 1], degree=2))
        make_face()
    extrude(amount=BOSS_EXTRUDE1_DEPTH)


solid = part.part
